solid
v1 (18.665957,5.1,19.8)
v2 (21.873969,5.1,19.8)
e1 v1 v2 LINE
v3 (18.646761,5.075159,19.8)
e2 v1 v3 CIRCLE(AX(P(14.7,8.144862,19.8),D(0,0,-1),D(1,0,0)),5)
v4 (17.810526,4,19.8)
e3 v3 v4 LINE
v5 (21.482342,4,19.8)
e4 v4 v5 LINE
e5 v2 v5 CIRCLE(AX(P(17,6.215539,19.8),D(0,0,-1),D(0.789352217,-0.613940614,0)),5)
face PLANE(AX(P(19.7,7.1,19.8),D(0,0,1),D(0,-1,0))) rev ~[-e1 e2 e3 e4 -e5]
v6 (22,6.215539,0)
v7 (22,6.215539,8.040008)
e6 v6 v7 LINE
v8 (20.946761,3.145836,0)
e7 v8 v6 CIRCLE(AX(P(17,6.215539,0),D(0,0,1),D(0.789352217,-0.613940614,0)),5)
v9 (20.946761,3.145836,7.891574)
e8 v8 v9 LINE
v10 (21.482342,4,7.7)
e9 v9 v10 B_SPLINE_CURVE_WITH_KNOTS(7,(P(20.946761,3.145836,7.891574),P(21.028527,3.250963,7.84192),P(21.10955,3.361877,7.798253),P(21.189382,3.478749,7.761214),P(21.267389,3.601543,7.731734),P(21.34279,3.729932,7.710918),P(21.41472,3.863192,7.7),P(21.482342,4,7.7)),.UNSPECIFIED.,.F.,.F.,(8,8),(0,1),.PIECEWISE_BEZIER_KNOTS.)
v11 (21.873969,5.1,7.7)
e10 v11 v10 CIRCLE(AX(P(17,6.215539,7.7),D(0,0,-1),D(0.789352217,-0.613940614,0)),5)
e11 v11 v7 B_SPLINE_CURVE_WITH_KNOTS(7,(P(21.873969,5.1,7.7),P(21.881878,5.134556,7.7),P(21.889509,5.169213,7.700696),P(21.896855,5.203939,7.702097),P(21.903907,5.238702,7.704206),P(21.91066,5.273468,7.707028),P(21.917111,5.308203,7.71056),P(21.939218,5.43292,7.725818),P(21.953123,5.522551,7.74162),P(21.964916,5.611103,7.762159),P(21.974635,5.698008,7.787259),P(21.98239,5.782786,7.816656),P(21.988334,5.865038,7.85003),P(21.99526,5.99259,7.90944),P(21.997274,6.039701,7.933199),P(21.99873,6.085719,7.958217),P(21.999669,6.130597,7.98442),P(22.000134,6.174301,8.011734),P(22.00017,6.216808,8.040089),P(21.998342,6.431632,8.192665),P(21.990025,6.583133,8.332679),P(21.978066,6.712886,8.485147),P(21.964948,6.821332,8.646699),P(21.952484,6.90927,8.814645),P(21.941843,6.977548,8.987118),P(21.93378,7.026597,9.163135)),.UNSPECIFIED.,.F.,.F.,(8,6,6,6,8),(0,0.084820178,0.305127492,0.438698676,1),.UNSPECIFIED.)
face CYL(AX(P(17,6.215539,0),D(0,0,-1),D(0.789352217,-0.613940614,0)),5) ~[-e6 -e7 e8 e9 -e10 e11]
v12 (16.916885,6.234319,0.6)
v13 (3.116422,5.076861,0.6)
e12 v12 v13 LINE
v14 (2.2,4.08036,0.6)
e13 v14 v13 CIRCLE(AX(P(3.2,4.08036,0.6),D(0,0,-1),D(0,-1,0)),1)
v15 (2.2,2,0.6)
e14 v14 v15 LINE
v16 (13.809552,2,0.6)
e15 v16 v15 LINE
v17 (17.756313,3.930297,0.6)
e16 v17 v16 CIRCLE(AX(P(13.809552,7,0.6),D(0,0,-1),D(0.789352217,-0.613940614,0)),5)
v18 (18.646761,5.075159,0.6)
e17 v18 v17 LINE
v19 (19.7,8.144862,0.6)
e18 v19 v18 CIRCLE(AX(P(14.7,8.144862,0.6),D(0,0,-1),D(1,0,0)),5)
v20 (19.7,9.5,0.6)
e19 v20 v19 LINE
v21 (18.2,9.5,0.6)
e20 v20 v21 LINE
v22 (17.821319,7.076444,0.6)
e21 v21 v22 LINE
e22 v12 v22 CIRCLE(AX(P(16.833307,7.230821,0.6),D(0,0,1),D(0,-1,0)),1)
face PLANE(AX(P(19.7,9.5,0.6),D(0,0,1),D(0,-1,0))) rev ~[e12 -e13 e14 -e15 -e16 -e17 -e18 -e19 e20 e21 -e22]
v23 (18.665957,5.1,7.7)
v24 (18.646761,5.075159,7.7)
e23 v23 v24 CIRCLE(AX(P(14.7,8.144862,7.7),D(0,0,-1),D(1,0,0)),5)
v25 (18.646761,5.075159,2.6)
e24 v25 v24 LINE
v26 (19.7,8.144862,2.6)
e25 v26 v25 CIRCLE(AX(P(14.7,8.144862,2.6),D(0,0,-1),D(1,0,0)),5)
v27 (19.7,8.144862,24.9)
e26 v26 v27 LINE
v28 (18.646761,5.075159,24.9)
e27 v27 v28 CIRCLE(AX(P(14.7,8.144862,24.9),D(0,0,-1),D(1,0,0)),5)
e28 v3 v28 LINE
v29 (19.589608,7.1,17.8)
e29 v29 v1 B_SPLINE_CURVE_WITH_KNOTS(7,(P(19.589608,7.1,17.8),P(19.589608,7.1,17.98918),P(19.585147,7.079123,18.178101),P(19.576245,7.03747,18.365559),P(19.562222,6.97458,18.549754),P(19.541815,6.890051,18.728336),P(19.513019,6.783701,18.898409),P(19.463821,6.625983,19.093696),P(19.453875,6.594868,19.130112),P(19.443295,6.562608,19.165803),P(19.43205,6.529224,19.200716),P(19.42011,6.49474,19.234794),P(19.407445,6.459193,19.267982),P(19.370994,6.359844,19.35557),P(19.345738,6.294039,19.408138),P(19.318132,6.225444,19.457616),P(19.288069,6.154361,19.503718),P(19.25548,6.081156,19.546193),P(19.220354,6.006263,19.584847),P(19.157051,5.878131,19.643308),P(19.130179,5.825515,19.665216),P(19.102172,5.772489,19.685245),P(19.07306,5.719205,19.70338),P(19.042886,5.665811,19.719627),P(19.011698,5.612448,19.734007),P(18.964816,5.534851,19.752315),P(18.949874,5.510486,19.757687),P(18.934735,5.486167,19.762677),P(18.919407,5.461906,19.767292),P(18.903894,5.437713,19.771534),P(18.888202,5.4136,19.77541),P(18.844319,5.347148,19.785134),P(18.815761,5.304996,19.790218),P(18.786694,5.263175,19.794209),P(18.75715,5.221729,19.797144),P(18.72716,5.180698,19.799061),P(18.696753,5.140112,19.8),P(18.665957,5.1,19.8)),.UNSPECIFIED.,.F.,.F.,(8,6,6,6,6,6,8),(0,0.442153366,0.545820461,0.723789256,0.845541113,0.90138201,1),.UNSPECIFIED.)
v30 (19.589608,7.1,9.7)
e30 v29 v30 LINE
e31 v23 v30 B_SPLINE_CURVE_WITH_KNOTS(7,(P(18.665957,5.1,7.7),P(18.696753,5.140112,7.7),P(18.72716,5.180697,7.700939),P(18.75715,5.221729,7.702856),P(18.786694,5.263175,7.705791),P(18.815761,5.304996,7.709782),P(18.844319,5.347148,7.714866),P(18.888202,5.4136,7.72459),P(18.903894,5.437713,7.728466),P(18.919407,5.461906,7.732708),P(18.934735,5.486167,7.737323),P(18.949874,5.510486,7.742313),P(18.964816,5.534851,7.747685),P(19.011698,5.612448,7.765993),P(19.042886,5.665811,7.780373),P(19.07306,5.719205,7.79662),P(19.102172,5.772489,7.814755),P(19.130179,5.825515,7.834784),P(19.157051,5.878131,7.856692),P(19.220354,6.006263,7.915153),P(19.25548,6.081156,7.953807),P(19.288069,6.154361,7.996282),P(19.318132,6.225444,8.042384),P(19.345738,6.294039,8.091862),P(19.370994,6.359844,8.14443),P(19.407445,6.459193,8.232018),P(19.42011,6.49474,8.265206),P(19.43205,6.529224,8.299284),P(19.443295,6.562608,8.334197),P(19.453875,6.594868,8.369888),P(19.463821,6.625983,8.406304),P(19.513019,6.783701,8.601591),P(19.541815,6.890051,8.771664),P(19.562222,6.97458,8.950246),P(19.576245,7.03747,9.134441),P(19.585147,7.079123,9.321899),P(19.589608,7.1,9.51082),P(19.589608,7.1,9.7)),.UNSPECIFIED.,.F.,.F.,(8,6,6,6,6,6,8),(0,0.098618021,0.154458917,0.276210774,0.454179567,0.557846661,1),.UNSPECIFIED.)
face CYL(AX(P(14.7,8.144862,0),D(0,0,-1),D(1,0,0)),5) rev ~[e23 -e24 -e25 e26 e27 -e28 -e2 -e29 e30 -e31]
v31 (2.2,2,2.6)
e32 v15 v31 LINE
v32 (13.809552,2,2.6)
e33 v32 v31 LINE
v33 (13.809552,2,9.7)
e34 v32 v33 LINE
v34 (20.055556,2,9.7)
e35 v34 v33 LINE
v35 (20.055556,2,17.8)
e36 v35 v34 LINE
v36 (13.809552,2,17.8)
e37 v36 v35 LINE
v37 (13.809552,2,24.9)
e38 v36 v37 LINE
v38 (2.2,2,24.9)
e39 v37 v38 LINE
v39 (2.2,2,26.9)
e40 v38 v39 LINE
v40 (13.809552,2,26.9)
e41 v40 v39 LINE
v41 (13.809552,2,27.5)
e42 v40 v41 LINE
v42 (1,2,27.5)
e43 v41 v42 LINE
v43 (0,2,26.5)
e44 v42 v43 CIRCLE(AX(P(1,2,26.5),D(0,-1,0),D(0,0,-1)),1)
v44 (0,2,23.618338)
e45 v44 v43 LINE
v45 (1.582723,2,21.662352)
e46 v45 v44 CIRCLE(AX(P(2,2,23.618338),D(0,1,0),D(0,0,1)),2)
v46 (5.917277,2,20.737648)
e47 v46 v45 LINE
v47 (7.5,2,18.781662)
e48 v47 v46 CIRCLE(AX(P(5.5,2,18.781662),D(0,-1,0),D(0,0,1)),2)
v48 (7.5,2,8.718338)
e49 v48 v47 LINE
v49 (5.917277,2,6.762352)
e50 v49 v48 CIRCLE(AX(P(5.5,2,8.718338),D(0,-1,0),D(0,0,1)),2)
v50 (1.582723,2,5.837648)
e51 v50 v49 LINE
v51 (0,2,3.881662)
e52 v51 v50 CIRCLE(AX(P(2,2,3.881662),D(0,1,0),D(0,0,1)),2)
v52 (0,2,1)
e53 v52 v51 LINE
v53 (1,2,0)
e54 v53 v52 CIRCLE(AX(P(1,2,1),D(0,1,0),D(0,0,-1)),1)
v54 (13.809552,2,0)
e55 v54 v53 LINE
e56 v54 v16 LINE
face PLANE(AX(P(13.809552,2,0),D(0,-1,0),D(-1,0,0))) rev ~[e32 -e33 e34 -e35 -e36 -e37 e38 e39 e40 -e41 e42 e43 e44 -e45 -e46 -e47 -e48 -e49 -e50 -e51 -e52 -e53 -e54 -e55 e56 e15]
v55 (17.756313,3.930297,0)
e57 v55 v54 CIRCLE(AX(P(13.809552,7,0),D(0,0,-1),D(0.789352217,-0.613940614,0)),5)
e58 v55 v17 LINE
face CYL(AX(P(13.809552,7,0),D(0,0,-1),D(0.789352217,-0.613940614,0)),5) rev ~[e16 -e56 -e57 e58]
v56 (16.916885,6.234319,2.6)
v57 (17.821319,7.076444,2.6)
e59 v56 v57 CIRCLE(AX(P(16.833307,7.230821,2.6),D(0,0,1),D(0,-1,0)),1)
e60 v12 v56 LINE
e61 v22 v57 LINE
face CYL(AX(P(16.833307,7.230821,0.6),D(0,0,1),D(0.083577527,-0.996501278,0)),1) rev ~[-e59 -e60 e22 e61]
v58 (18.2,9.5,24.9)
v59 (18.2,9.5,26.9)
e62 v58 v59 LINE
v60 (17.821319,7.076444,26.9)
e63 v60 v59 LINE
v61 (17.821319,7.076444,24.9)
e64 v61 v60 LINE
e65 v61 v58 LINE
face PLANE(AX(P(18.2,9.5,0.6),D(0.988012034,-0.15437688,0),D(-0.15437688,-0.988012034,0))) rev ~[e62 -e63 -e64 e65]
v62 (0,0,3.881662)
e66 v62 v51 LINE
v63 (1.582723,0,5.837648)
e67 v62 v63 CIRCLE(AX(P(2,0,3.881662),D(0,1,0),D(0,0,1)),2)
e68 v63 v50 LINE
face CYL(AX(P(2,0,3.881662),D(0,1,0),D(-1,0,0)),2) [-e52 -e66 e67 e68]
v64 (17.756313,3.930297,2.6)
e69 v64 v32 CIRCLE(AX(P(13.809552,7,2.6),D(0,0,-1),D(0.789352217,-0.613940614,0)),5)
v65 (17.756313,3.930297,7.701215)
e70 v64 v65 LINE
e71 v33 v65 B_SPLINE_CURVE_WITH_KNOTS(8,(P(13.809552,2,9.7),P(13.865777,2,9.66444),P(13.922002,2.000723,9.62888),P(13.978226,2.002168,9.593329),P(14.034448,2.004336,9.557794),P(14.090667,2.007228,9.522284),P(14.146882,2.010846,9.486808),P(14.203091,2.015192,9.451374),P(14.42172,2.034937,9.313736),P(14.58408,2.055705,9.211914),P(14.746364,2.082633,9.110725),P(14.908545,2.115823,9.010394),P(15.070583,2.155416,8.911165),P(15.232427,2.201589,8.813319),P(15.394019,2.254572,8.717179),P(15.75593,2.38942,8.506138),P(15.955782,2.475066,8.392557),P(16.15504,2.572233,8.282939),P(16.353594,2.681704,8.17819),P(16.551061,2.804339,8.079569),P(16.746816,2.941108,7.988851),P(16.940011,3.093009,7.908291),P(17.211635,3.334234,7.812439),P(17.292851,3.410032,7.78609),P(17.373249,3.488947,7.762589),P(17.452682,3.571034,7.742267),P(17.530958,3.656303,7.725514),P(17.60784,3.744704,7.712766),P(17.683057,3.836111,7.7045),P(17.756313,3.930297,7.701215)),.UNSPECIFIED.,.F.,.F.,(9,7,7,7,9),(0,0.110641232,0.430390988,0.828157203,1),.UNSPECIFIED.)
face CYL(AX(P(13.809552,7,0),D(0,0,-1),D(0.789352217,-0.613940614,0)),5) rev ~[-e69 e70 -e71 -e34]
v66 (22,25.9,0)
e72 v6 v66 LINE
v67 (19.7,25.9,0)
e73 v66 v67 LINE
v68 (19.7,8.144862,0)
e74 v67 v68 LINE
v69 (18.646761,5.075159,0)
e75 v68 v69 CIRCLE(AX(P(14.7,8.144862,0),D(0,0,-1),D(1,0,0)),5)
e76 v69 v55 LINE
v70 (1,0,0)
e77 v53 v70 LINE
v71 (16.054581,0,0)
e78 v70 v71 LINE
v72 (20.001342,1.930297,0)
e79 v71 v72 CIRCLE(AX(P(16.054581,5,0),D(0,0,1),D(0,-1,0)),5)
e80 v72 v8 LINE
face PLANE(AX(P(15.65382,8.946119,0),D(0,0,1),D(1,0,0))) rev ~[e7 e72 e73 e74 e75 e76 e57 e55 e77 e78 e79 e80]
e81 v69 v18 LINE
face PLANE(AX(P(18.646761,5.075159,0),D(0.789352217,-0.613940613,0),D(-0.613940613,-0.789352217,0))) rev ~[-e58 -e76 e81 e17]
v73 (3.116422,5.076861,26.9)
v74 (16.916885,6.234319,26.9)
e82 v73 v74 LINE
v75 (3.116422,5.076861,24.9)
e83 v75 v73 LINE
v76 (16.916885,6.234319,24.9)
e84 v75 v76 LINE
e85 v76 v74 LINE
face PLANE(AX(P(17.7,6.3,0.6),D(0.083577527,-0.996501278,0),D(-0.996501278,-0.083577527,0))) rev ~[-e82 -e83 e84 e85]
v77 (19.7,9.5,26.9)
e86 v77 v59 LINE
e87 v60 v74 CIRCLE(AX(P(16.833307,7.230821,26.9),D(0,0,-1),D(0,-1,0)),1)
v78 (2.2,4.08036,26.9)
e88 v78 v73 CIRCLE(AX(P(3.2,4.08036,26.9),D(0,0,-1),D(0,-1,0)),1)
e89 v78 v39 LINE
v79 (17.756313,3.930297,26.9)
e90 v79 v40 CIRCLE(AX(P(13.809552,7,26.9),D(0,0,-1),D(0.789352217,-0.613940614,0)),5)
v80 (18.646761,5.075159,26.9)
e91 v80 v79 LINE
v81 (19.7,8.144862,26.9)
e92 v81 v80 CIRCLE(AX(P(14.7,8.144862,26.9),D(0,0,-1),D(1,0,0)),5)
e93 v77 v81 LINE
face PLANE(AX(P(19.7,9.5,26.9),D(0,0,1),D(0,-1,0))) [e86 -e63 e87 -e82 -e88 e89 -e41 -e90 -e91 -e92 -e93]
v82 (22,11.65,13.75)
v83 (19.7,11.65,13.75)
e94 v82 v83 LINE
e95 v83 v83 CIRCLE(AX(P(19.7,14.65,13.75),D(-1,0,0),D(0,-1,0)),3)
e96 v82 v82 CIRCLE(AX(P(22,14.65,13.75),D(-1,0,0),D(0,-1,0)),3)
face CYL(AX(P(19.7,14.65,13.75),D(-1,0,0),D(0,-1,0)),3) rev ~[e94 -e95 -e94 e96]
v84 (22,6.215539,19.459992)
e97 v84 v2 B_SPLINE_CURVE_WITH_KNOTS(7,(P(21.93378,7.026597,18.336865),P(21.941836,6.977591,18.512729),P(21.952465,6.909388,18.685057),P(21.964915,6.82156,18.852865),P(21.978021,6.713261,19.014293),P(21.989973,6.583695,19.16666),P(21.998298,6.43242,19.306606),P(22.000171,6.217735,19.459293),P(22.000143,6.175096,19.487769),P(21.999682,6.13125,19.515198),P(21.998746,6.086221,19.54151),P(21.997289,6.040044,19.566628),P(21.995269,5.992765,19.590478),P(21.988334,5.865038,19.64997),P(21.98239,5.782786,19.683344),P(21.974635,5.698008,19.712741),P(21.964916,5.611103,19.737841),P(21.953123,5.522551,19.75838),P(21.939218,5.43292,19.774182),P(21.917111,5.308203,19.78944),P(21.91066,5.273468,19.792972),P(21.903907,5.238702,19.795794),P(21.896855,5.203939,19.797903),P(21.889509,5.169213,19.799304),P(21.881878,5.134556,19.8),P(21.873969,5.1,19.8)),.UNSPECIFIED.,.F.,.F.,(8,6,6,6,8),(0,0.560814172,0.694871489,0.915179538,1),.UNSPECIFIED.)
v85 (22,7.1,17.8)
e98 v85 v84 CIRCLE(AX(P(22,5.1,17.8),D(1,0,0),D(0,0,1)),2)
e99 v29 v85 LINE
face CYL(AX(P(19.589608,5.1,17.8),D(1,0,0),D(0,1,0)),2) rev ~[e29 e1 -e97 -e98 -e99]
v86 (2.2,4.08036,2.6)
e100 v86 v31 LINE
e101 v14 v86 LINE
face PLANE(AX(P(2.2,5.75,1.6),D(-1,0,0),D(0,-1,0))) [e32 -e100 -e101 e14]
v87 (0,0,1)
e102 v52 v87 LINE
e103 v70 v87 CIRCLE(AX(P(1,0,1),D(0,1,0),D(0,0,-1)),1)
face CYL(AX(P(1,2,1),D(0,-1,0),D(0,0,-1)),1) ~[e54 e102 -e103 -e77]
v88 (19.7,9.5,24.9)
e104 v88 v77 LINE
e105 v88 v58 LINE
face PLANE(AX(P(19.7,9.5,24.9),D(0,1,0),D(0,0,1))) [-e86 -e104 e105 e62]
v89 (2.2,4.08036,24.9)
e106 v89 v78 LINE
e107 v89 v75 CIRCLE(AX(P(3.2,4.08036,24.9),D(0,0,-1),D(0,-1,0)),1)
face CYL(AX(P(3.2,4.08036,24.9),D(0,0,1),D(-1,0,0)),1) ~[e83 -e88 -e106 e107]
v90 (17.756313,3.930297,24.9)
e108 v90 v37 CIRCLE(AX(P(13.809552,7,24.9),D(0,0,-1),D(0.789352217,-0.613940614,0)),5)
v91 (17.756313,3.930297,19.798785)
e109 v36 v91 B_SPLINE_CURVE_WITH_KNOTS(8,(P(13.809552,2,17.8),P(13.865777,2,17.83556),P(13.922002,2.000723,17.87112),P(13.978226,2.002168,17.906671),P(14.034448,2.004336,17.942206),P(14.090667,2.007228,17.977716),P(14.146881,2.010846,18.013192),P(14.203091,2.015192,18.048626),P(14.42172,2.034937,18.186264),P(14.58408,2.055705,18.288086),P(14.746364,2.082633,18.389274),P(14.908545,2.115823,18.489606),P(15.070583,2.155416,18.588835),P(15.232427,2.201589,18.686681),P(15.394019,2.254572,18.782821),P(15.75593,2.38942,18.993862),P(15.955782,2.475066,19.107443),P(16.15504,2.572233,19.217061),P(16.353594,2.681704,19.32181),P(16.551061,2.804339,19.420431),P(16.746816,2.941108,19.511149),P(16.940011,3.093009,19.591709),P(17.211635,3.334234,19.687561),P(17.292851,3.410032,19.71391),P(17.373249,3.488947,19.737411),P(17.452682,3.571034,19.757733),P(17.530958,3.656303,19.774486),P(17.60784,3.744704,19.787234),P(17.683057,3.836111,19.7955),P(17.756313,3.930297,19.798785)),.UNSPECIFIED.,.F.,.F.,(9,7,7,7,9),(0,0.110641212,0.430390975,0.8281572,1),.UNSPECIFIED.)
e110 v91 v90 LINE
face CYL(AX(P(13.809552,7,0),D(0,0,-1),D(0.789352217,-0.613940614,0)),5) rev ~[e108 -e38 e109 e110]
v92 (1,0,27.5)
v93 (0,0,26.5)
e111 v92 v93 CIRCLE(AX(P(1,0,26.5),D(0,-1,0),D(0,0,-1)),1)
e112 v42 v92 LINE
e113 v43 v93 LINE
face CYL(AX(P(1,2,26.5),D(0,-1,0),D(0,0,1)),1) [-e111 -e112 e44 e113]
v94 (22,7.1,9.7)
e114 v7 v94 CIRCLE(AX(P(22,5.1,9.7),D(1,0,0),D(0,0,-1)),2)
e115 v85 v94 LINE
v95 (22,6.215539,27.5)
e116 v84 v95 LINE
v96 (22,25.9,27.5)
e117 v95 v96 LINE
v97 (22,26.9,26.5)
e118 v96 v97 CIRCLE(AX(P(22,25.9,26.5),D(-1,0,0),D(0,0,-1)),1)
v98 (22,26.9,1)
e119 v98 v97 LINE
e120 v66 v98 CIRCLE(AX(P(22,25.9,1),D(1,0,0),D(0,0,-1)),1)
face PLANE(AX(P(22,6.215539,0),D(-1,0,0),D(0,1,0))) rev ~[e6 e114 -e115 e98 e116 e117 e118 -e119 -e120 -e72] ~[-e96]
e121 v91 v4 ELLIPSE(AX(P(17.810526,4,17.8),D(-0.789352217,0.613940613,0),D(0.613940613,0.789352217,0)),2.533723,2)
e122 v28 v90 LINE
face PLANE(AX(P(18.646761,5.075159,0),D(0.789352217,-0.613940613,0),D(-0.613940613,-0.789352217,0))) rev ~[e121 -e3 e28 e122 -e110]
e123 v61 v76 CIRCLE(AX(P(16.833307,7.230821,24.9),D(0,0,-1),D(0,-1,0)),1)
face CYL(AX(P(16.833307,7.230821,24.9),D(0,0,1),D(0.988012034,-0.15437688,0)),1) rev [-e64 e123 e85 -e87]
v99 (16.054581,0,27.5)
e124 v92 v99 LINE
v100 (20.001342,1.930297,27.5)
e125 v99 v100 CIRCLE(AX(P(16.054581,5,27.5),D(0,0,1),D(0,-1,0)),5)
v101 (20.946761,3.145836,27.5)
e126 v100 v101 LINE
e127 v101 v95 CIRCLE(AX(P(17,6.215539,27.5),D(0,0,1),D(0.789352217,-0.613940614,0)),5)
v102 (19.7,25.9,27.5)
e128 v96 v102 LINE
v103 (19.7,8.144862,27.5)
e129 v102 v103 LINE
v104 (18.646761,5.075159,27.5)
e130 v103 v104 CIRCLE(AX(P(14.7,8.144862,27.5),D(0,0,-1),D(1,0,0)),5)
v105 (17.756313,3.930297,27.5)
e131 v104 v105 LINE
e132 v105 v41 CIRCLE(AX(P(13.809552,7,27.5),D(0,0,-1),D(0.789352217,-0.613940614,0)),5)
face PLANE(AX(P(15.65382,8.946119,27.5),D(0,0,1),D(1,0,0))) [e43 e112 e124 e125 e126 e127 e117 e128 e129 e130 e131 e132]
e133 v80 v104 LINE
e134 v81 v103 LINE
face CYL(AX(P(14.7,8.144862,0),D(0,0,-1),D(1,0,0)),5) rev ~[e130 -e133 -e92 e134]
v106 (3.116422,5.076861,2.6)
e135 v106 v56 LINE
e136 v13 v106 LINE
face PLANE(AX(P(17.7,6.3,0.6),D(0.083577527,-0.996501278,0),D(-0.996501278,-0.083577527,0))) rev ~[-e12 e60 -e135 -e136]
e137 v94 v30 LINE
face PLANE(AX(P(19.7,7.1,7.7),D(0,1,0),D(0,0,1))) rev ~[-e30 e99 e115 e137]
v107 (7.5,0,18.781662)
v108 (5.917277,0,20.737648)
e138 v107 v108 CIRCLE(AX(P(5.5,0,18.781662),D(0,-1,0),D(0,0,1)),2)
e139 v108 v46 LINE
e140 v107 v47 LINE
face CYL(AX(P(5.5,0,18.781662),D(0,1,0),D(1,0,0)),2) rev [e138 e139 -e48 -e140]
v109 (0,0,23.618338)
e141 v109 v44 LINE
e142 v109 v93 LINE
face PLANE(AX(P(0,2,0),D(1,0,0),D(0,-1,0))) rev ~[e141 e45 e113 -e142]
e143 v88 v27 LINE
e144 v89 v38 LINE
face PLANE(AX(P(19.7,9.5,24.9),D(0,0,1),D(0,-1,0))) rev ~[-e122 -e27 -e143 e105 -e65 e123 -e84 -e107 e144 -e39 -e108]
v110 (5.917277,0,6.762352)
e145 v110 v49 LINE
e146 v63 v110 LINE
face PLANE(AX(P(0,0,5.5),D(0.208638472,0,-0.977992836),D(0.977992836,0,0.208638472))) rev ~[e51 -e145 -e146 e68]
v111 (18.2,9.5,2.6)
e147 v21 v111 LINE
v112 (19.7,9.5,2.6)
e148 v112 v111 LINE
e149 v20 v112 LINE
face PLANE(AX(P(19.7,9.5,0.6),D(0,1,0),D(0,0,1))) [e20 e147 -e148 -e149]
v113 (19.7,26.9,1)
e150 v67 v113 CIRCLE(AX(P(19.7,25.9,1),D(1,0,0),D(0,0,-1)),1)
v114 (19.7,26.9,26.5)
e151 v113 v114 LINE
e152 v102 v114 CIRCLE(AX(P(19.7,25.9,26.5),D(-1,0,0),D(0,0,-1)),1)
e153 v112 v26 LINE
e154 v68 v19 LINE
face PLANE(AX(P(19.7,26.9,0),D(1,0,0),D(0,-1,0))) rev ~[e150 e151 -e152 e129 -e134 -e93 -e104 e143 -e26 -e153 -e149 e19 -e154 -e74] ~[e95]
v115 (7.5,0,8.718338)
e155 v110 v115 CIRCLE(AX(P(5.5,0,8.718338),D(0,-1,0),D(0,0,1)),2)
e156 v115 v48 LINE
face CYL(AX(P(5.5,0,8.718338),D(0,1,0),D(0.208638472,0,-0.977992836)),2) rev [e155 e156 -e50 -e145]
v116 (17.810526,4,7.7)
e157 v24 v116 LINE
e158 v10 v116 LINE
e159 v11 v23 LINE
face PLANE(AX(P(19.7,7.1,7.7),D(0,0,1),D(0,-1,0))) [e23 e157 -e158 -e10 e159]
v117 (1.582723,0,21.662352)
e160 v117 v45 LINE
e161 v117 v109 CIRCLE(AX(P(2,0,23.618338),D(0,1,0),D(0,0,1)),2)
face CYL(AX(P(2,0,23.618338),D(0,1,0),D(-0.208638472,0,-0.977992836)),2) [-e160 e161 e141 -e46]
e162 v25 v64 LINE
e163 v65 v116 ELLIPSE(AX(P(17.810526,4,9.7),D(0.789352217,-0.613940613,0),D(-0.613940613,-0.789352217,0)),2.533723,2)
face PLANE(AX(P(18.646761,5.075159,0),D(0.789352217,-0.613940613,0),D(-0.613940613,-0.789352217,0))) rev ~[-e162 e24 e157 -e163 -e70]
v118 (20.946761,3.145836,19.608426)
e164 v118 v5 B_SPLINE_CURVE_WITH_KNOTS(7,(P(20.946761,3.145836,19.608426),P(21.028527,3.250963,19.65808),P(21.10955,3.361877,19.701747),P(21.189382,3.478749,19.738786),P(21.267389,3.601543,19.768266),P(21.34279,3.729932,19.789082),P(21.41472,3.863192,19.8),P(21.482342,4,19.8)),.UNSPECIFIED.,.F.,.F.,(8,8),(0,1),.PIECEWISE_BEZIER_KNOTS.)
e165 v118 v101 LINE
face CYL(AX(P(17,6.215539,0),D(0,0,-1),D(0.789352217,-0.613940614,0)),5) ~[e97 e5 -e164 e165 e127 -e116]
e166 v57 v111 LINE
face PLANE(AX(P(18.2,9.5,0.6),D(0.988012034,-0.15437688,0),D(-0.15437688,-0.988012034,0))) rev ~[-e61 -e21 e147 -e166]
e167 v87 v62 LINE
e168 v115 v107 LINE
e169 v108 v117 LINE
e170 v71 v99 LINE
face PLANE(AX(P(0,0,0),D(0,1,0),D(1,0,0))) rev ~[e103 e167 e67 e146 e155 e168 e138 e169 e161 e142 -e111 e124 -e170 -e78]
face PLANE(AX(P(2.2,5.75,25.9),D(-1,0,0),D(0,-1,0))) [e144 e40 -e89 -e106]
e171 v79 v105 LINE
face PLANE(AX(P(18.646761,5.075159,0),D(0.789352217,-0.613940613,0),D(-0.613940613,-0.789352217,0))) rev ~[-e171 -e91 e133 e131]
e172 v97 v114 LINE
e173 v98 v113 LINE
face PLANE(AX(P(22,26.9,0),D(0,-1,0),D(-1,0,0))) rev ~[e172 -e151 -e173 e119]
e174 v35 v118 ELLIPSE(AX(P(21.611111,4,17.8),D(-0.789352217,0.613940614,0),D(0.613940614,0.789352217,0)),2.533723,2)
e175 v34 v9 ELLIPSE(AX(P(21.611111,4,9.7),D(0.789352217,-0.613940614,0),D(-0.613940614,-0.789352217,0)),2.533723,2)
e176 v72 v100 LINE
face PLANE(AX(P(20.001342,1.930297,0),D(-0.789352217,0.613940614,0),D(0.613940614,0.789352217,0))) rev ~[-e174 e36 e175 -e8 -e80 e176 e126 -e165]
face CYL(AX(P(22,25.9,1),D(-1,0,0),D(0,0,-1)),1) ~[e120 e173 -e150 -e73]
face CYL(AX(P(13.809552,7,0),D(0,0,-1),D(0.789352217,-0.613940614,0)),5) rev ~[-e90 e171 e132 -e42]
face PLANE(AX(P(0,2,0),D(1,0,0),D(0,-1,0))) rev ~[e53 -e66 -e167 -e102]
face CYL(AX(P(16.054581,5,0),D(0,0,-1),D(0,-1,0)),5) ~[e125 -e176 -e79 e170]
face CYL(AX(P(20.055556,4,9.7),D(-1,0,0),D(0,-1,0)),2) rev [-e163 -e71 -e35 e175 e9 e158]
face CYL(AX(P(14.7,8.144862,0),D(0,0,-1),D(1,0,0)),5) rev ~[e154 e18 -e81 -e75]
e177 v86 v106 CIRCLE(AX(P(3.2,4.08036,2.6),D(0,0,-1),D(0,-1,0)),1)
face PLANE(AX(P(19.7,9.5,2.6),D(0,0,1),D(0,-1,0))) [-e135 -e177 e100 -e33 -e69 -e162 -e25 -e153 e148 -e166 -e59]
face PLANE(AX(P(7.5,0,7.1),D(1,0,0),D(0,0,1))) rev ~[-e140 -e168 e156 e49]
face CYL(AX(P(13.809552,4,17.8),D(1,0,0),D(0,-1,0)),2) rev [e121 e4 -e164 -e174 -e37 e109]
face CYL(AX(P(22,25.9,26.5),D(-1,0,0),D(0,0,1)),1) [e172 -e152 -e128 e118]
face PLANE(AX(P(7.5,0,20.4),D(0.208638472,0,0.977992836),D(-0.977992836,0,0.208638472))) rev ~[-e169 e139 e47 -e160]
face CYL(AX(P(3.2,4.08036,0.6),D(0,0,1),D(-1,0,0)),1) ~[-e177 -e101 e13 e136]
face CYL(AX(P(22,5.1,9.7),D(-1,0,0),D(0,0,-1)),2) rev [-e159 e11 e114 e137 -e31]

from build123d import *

# Parameters (mm, degrees)
F1_DEPTH  = 27.5
F2_W      = 5.1
F2_H      = 12.1
F2_R      = 3
F3_DEPTH  = 12.5
F4_W      = 7.5
F4_H      = 2
F5_DEPTH  = 17.5
F7_DEPTH  = 26.901
F8_R      = 1
F9_R      = 2
F11_DEPTH = 26.901
F12_R     = 2


with BuildPart() as f1:
    # F0 (on Top) → F1 (new body)
    with BuildSketch(Plane.XY):
        with BuildLine():
            Line((0, 2), (0, 0))
            Line((0, 0), (16.0545809717, 0))
            ThreePointArc((16.0545809717, 0), (18.2513382025, 0.5084236989), (20.0013420586, 1.9302969324))
            Line((20.0013420586, 1.9302969324), (20.9467610869, 3.1458356831))
            ThreePointArc((20.9467610869, 3.1458356831), (21.7293659953, 4.5928566245), (22, 6.2155387507))
            Line((22, 6.2155387507), (22, 26.9))
            Line((22, 26.9), (19.7, 26.9))
            Line((19.7, 26.9), (19.7, 8.1448620011))
            ThreePointArc((19.7, 8.1448620011), (19.4293659953, 6.5221798749), (18.6467610869, 5.0751589336))
            Line((18.6467610869, 5.0751589336), (17.7563128638, 3.9302969324))
            ThreePointArc((17.7563128638, 3.9302969324), (16.0063090077, 2.5084236989), (13.8095517769, 2))
            Line((13.8095517769, 2), (0, 2))
        make_face()
    extrude(amount=F1_DEPTH)

    # F2 (on face) → F3 (cut, symmetric)
    with BuildSketch(Plane(origin=(19.7, 0, 0), x_dir=(0, -1, 0), z_dir=(-1, 0, 0))):
        with Locations((-4.55, 13.75)):
            Rectangle(F2_W, F2_H)
        with Locations((-14.65, 13.75)):
            Circle(F2_R)
    extrude(amount=F3_DEPTH, both=True, mode=Mode.SUBTRACT)

    # F4 (on face) → F5 (join)
    with BuildSketch(Plane(origin=(19.7, 0, 0), x_dir=(0, -1, 0), z_dir=(-1, 0, 0))):
        with Locations((-5.75, 25.9)):
            Rectangle(F4_W, F4_H)
        with Locations((-5.75, 1.6)):
            Rectangle(F4_W, F4_H)
    extrude(amount=F5_DEPTH)

    # F6 (on face) → F7 (cut, through all)
    with BuildSketch(Plane(origin=(0, 0, 0.6), x_dir=(1, 0, 0), z_dir=(0, 0, -1))):
        Polygon((17.7, -6.3), (2.2, -5), (2.2, -9.5), (18.2, -9.5), align=None)
    extrude(amount=-F7_DEPTH, mode=Mode.SUBTRACT)

    # F8
    f8_edges = [f1.edges().sort_by_distance(p)[0] for p in [
        (2.2, 5, 1.6),
        (2.2, 5, 25.9),
        (0, 1, 0),
        (0, 1, 27.5),
        (20.85, 26.9, 0),
        (20.85, 26.9, 27.5),
        (17.7, 6.3, 1.6),
        (17.7, 6.3, 25.9),
    ]]
    fillet(f8_edges, radius=F8_R)

    # F9
    f9_edges = [f1.edges().sort_by_distance(p)[0] for p in [
        (16.932554, 2, 19.8),
        (20.794804, 7.1, 19.8),
        (16.932554, 2, 7.7),
        (20.794804, 7.1, 7.7),
    ]]
    fillet(f9_edges, radius=F9_R)

    # F10 (on face) → F11 (cut, through all)
    with BuildSketch(Plane.XZ):
        Polygon((0, 22), (0, 5.5), (7.5, 7.1), (7.5, 20.4), align=None)
    extrude(amount=-F11_DEPTH, mode=Mode.SUBTRACT)

    # F12
    f12_edges = [f1.edges().sort_by_distance(p)[0] for p in [
        (0, 1, 5.5),
        (0, 1, 22),
        (7.5, 1, 20.4),
        (7.5, 1, 7.1),
    ]]
    fillet(f12_edges, radius=F12_R)


solid = f1.part
